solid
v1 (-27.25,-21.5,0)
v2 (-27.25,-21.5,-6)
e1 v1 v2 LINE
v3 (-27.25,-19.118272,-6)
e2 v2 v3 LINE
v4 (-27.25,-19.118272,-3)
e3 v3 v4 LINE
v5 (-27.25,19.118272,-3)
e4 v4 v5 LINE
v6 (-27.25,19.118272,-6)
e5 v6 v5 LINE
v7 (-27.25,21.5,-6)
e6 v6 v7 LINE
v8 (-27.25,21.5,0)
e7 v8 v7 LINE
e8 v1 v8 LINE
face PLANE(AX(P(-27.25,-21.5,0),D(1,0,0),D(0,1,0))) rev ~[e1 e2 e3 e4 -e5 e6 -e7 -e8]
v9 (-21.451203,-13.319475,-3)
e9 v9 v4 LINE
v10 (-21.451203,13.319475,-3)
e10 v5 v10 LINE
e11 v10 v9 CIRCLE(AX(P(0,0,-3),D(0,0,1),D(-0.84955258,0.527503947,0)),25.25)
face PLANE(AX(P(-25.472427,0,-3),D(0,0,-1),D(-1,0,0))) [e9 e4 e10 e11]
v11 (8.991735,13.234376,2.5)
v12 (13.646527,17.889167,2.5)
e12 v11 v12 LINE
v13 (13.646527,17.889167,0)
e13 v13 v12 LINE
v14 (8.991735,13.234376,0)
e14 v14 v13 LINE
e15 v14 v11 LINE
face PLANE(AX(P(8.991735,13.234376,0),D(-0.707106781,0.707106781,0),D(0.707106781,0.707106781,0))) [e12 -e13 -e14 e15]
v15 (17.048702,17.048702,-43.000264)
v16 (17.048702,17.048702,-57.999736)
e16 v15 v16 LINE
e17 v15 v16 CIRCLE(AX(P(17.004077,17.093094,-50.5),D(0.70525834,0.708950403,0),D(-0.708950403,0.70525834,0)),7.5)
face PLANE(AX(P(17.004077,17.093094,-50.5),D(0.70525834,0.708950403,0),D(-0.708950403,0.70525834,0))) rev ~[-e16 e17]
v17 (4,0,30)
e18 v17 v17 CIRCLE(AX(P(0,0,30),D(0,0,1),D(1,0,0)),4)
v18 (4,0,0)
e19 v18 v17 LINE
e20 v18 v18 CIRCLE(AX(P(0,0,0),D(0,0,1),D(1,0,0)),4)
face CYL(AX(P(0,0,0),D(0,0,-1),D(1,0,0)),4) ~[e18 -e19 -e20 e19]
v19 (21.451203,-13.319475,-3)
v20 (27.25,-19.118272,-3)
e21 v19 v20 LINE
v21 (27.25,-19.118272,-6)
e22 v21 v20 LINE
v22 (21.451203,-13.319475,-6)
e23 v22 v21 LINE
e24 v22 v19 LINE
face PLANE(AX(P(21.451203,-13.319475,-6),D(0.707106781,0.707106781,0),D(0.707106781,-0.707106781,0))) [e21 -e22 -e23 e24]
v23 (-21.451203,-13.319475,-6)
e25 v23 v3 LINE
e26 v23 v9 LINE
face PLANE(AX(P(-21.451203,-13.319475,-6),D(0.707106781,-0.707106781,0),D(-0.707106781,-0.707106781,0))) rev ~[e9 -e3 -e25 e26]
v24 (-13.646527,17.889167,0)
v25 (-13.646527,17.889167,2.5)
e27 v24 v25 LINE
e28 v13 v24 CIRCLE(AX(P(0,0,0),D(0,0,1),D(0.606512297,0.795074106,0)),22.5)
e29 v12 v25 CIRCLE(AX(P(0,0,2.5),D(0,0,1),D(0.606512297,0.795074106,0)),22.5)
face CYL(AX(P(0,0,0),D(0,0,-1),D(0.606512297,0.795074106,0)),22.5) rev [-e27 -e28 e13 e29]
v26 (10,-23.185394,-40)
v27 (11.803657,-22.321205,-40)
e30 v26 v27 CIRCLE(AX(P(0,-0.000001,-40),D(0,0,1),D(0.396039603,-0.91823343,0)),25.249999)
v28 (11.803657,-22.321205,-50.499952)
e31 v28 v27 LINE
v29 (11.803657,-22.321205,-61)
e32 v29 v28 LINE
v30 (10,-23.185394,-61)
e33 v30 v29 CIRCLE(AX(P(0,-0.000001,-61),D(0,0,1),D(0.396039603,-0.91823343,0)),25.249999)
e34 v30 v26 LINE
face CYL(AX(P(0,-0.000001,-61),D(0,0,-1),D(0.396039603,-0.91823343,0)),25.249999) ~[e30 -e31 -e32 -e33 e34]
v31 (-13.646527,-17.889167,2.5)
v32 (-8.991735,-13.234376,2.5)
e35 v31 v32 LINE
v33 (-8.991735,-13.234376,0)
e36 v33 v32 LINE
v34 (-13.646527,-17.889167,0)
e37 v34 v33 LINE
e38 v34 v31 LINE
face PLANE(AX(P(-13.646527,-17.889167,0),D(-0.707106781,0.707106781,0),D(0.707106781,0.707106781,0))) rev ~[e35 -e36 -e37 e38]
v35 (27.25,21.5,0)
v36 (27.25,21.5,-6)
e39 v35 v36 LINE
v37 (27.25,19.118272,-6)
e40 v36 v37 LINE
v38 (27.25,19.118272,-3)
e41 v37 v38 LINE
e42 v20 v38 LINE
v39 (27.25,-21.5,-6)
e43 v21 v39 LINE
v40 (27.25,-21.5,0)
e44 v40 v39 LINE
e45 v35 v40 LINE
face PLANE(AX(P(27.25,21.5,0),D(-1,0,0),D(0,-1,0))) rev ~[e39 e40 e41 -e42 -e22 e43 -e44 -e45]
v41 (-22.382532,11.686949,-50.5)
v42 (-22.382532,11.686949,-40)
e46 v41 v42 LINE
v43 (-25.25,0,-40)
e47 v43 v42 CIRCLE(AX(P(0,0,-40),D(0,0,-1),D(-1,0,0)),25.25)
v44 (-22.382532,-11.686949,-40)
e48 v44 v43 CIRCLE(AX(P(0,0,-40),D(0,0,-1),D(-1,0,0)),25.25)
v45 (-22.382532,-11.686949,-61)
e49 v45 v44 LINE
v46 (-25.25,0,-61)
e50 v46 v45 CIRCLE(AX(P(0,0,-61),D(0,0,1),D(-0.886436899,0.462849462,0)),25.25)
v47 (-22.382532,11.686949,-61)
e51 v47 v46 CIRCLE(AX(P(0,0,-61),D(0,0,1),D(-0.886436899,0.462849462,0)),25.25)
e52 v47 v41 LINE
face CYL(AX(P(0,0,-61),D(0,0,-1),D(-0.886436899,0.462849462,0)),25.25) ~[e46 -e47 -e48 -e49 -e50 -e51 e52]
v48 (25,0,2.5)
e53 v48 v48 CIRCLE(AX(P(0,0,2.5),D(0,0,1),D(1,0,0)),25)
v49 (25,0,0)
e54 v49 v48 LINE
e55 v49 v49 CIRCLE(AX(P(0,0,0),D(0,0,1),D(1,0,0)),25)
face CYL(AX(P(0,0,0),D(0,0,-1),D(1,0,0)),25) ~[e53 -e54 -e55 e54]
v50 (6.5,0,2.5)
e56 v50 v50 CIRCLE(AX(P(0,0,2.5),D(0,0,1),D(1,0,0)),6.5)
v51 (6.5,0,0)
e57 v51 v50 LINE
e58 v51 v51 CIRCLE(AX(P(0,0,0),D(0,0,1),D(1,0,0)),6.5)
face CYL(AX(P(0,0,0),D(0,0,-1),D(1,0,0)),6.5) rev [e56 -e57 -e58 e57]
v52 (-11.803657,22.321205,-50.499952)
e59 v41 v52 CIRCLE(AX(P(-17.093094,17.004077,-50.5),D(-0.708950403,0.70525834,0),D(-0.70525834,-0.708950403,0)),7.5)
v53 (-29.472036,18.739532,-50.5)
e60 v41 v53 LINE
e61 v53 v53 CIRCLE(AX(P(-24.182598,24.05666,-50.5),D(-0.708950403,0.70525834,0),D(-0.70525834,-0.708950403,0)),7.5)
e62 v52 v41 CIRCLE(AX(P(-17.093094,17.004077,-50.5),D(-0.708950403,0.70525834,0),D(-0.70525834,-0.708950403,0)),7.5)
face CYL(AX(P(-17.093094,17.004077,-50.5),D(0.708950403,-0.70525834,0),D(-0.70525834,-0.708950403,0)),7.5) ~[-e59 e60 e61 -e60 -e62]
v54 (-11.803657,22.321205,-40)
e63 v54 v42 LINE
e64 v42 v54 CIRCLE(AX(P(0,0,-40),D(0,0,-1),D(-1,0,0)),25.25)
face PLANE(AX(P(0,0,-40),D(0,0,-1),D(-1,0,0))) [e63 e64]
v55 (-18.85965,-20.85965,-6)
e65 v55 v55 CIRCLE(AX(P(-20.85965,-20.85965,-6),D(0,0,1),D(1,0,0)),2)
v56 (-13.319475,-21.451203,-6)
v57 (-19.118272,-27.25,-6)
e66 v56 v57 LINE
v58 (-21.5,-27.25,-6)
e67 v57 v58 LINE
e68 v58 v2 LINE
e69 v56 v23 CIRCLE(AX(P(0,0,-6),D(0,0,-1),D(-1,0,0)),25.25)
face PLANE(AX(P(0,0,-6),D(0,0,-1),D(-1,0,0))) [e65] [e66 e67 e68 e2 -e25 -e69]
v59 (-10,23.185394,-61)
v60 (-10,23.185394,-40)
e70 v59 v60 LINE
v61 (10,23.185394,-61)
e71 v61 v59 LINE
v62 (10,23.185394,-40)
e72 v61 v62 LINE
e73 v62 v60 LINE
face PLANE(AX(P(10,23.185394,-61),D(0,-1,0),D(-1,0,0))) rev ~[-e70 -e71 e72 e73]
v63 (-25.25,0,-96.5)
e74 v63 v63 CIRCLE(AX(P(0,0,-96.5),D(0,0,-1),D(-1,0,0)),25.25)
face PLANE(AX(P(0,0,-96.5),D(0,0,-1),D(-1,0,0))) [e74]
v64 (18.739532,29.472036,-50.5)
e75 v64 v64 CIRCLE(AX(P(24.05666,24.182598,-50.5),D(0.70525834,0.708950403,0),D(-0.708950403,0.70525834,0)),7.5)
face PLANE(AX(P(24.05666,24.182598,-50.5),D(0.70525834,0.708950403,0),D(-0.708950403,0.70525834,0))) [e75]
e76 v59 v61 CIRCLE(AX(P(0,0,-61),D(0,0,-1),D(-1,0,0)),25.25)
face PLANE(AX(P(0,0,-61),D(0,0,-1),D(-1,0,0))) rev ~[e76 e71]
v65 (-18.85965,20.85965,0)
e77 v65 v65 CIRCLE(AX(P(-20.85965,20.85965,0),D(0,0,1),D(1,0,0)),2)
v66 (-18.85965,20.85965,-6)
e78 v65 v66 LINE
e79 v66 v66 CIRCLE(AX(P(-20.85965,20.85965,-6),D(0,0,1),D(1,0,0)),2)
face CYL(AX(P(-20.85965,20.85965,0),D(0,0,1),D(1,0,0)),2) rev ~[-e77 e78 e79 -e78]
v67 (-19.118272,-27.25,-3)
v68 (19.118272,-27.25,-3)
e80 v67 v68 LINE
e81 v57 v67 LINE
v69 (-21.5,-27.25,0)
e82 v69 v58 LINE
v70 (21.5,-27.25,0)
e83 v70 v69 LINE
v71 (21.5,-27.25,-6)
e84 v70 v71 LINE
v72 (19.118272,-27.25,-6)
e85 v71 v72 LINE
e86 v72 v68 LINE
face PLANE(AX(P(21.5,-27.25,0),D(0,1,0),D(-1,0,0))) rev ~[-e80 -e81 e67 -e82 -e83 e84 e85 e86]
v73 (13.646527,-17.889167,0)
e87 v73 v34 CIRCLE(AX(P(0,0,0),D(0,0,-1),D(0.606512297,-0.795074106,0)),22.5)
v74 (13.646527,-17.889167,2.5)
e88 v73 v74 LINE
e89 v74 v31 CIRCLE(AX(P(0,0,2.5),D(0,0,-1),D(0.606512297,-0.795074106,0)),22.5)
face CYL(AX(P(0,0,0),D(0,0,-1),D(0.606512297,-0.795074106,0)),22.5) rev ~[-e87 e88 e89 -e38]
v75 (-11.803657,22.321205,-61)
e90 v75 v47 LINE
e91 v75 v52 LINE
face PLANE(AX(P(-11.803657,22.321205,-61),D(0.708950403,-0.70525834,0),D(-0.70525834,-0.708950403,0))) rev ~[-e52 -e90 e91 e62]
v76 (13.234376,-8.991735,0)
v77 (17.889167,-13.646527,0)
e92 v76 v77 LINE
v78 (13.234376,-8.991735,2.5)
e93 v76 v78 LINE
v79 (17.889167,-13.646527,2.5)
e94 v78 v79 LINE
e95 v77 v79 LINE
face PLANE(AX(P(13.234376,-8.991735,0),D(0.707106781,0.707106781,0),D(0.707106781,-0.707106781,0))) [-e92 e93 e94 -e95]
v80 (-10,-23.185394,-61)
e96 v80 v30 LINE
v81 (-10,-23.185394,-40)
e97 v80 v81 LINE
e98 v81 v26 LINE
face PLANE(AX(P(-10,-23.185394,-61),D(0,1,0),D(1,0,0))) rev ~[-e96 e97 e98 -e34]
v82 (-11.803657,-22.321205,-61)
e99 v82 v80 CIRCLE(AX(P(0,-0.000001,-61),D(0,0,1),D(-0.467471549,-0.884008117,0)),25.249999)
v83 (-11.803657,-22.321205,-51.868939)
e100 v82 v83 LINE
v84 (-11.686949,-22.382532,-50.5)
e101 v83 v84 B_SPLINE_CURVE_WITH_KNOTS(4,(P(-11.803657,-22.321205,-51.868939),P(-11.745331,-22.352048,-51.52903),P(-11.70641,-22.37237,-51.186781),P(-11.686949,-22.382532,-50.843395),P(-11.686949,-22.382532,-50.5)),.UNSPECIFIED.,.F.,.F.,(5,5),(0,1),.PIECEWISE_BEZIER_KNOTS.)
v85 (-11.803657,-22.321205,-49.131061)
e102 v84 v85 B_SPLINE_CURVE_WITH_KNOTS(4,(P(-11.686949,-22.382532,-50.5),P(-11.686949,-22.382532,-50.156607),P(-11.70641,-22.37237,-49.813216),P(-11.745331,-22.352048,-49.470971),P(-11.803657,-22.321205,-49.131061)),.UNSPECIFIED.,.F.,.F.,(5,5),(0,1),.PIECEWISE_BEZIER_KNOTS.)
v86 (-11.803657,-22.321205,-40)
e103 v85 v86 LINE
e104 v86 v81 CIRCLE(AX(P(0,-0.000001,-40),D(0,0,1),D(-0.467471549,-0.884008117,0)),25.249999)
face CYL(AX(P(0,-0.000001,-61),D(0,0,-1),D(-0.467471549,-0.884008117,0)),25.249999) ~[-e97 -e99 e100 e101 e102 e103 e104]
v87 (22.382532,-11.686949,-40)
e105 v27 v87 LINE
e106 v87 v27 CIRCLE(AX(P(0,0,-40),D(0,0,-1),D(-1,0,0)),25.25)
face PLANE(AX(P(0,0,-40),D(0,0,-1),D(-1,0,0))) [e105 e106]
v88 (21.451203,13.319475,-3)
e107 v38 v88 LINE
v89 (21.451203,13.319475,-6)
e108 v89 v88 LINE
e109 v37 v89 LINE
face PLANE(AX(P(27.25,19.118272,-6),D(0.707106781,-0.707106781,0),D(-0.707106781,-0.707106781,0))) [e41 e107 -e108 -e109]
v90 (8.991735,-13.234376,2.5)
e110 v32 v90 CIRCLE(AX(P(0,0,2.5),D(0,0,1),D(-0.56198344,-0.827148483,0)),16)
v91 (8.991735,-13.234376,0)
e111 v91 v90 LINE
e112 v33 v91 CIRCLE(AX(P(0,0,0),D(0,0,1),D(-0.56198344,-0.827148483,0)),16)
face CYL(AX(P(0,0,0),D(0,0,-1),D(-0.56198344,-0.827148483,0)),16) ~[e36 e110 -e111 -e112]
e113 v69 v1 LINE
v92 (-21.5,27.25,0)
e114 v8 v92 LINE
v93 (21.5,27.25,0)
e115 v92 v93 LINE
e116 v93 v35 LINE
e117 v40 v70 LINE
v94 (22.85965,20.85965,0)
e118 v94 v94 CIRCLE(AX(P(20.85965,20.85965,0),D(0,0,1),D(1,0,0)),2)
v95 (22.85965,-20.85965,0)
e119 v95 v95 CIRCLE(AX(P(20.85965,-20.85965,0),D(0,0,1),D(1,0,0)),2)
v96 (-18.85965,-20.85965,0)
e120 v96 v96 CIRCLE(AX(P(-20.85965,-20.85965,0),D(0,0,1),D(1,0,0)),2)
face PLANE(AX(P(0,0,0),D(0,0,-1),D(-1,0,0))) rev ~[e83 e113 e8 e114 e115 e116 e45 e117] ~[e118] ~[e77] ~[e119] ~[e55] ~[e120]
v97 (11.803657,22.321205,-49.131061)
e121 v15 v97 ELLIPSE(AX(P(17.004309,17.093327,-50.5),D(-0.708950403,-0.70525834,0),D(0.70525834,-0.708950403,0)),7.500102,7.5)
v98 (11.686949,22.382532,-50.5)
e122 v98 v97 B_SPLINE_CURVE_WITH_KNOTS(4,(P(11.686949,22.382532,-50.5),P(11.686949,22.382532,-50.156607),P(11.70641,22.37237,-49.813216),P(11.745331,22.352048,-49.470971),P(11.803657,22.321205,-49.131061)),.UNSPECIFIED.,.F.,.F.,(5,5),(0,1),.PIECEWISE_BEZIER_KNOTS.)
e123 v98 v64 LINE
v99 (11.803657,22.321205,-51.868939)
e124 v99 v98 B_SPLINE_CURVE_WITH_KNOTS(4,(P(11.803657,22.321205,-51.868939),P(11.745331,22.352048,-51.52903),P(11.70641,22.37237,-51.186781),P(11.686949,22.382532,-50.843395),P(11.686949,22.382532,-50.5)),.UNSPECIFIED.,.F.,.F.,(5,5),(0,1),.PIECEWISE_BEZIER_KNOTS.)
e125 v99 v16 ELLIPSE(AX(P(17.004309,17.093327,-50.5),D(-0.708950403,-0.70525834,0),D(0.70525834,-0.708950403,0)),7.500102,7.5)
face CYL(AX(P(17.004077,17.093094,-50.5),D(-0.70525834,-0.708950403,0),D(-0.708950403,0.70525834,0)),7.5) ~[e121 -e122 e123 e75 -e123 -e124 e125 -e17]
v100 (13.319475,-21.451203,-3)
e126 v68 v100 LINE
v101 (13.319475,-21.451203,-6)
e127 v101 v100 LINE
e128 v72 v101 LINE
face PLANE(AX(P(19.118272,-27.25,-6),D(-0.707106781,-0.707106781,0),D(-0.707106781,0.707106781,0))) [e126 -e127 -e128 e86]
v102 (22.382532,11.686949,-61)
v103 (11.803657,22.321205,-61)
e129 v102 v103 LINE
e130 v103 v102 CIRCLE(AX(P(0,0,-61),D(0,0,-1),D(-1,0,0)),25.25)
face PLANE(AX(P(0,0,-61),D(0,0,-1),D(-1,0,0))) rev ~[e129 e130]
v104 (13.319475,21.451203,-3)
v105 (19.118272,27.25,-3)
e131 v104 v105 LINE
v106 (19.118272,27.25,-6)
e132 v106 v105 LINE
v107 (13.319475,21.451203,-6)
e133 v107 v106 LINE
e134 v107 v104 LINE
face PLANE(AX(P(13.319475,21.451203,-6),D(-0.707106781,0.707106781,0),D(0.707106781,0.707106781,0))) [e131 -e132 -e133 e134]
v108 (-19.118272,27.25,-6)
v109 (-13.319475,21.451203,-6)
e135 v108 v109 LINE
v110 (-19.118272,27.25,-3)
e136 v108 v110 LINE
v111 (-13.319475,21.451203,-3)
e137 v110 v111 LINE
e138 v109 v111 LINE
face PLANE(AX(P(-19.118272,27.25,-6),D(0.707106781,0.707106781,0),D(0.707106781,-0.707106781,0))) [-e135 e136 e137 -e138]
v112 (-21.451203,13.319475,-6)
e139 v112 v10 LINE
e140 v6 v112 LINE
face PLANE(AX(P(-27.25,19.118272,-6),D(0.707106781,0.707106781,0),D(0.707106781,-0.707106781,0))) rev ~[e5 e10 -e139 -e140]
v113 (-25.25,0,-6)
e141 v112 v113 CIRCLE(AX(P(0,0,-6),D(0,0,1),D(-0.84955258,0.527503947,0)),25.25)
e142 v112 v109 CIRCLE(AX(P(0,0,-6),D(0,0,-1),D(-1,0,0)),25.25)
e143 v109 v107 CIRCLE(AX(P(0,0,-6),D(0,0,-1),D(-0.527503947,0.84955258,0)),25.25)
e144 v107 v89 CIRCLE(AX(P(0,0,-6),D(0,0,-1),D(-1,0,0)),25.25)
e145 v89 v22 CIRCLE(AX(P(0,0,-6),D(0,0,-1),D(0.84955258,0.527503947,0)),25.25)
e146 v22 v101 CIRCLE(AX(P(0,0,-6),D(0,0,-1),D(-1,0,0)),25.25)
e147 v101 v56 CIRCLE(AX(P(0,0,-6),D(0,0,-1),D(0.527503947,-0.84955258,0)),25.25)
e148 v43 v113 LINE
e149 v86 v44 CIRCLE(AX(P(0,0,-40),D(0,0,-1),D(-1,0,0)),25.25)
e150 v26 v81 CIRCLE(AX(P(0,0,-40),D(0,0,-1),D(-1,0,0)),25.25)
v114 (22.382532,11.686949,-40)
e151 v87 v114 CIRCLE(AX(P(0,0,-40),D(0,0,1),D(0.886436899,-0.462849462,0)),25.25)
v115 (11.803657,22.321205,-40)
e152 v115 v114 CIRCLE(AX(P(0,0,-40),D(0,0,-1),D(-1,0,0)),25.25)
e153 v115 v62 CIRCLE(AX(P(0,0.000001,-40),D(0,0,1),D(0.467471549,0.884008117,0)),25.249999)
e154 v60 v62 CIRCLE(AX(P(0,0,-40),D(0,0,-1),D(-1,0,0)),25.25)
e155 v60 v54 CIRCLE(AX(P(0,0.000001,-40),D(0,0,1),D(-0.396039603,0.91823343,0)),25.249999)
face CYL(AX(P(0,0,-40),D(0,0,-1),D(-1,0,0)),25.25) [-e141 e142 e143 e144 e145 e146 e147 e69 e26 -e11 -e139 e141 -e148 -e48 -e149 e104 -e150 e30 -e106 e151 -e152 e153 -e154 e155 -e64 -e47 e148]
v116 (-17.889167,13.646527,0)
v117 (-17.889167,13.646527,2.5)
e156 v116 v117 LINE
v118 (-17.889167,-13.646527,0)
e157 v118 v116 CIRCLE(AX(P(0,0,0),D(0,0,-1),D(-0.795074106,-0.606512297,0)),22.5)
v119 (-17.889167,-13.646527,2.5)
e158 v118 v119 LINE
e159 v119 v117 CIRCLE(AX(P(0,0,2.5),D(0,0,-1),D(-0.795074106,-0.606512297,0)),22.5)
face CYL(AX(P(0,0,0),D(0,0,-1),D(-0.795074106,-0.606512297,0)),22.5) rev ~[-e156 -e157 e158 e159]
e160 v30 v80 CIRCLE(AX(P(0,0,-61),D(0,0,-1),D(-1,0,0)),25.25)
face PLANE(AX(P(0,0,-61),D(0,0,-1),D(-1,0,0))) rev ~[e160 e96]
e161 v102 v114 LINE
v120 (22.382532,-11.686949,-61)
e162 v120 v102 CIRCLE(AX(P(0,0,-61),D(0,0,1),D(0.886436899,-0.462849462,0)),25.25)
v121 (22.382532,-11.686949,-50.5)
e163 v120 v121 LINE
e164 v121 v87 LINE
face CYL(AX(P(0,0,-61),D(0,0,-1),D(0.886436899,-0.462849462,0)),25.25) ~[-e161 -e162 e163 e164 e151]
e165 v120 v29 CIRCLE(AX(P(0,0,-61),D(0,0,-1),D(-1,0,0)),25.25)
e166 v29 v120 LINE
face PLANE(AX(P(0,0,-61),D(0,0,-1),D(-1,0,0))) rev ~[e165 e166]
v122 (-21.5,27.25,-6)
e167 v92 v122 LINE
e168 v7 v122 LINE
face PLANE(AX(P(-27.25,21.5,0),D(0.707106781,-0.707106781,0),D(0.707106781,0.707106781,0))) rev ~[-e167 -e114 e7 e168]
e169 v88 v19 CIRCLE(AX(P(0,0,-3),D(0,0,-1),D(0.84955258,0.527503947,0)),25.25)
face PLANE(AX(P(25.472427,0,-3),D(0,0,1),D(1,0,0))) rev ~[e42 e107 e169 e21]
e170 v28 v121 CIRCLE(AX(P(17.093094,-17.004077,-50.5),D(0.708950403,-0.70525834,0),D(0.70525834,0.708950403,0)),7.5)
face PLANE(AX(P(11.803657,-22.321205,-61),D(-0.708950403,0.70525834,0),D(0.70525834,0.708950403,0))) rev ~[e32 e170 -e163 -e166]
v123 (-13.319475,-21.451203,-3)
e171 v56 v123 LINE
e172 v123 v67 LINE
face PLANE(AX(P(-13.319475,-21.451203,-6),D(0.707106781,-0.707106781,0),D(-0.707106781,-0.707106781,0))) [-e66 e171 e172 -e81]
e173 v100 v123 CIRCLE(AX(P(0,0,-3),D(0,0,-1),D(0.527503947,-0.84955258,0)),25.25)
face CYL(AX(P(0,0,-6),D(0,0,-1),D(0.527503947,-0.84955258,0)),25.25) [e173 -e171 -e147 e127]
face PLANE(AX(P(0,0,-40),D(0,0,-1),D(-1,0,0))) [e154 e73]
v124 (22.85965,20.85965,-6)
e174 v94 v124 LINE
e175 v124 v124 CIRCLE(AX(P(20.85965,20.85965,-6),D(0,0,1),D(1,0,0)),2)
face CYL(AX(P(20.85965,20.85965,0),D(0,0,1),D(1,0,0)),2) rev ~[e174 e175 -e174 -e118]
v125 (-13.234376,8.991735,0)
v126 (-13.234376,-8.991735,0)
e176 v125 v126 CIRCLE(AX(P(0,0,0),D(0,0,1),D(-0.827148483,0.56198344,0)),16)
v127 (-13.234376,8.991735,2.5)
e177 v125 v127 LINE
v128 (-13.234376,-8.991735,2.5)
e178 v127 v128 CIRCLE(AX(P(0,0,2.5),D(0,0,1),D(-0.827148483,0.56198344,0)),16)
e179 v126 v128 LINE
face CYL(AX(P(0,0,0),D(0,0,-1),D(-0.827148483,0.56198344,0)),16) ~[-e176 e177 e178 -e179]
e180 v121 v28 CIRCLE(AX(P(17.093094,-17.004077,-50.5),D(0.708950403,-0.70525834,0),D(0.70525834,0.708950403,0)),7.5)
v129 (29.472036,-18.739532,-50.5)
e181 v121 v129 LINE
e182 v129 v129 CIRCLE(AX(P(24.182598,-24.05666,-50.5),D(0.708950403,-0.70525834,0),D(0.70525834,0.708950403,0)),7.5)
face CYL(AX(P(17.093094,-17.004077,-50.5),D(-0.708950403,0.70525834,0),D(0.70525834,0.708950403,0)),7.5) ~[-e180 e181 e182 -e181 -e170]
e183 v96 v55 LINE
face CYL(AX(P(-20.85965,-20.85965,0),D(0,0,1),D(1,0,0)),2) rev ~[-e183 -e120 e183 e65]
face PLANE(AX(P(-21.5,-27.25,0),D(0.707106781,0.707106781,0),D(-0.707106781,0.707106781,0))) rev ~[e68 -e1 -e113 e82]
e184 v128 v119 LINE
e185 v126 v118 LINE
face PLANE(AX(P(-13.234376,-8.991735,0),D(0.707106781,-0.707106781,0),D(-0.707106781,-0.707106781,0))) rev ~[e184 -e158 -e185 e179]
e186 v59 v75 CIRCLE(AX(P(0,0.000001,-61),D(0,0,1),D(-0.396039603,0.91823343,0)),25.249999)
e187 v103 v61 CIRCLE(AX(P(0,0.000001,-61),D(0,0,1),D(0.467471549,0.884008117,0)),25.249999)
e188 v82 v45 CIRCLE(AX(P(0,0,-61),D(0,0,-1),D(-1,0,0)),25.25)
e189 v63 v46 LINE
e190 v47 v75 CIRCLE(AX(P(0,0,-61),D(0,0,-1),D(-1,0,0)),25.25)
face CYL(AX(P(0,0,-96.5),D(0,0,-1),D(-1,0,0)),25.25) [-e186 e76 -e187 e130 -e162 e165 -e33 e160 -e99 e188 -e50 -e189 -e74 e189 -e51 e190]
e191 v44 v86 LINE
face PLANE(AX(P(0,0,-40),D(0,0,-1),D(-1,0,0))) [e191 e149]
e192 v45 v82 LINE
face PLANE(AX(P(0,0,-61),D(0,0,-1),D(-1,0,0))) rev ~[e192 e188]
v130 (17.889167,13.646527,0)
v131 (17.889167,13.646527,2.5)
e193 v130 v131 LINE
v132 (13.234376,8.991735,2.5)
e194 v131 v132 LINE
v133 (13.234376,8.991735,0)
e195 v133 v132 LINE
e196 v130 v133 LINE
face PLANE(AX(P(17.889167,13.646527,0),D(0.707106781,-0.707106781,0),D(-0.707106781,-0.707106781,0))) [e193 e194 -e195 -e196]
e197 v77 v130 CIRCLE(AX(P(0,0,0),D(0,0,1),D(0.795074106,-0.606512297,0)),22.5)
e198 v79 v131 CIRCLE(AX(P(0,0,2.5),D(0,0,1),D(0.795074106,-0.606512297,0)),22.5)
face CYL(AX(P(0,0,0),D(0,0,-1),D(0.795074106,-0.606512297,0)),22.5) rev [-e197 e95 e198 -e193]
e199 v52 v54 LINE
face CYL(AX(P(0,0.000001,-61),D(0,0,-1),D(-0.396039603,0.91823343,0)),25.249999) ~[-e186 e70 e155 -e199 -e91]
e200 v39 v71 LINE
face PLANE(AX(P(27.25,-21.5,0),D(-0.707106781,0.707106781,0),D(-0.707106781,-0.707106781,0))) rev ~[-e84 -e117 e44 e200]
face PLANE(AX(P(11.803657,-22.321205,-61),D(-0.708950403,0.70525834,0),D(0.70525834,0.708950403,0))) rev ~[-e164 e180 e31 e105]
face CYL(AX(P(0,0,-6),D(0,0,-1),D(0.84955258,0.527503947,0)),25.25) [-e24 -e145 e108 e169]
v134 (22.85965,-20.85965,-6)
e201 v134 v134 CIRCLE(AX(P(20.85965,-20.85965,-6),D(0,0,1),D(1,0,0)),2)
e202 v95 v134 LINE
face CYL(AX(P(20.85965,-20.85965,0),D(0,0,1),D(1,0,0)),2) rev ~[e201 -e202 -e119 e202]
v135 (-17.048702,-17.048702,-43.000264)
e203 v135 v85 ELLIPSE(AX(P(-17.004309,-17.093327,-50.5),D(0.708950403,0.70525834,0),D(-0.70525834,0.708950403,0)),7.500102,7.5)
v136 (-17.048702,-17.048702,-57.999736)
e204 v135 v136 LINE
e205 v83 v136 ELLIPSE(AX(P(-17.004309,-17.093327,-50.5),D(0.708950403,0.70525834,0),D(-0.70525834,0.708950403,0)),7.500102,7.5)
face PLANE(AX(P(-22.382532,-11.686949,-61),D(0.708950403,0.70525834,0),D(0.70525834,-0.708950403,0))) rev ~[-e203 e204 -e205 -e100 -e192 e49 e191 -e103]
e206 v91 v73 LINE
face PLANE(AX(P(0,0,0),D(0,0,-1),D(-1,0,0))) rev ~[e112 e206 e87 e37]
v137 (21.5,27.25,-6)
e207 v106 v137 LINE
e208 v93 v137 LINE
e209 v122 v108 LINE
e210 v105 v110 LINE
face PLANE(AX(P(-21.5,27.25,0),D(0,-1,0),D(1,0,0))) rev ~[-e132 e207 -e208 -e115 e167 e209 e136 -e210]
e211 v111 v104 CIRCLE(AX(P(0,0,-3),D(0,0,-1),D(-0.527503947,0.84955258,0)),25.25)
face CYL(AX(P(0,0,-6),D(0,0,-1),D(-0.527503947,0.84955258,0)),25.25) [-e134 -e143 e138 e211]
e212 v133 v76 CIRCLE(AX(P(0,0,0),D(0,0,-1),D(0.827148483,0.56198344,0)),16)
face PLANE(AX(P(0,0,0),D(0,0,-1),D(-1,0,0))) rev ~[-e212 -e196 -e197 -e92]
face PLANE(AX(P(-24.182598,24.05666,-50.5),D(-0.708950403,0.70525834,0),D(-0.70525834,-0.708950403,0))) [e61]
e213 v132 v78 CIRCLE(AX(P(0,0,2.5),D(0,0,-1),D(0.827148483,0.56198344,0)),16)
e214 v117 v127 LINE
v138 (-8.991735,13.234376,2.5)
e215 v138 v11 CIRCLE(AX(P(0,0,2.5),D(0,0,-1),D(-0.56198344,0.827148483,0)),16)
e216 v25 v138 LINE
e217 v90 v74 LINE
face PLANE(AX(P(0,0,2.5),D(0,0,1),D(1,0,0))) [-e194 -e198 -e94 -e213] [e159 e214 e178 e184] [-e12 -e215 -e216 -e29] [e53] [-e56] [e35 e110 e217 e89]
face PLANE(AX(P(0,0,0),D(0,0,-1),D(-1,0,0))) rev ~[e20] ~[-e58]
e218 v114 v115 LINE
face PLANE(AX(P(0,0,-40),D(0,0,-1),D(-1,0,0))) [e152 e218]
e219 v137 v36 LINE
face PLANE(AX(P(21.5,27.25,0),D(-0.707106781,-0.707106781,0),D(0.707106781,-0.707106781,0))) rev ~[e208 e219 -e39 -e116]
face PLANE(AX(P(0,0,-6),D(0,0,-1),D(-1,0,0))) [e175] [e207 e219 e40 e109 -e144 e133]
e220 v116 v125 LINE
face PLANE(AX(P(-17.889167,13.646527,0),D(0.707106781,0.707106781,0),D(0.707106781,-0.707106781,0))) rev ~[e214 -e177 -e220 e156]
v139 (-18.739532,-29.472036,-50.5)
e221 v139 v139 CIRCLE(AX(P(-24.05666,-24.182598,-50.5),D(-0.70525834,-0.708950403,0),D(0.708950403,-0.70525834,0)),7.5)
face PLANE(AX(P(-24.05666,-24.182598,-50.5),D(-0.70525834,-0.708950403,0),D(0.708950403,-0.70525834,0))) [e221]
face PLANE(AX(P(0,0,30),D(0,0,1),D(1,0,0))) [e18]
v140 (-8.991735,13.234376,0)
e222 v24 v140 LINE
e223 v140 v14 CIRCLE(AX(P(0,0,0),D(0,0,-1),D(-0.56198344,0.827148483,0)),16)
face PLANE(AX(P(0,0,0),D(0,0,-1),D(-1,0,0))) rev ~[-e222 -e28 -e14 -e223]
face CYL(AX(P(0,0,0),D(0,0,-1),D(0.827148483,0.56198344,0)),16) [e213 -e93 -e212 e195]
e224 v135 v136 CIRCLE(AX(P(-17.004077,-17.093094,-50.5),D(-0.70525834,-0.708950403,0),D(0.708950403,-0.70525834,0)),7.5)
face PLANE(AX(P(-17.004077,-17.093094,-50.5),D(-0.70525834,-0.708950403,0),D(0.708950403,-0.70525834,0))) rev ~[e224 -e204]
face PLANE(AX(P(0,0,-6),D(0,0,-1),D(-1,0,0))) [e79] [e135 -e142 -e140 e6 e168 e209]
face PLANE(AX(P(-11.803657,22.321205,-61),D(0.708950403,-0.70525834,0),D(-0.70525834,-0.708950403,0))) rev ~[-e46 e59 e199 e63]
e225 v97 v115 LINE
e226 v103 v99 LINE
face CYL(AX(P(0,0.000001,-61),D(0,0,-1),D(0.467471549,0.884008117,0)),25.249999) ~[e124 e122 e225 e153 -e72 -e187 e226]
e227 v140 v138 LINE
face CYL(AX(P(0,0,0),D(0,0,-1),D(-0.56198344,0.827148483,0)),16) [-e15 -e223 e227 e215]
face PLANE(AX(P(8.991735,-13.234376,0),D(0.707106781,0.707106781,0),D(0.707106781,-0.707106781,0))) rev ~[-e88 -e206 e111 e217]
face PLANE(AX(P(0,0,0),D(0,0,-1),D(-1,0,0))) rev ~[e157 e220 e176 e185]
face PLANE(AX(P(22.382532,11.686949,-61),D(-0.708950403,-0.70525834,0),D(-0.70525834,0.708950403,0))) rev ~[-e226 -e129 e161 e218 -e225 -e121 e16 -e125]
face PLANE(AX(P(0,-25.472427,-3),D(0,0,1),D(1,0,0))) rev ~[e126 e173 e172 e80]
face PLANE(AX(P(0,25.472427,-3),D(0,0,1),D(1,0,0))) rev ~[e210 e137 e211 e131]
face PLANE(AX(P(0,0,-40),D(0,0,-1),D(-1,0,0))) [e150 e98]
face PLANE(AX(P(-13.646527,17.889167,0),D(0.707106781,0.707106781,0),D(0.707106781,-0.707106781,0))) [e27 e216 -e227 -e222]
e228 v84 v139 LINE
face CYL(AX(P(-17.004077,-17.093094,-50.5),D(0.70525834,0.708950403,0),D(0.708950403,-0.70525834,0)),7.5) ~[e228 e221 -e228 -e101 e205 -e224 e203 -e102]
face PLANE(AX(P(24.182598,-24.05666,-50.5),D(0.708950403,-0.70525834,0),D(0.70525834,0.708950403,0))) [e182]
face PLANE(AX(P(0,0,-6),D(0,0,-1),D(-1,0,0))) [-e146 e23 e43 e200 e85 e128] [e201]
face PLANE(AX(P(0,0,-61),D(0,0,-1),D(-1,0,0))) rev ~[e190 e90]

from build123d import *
from build123d.topology import SkipClean

# Parameters (mm, degrees)
SKETCH1_R           = 2
BOSS_EXTRUDE1_DEPTH = 6
SKETCH2_R           = 25
SKETCH2_R_2         = 6.5
BOSS_EXTRUDE2_DEPTH = 2.5
SKETCH1_3_R         = 4
BOSS_EXTRUDE3_DEPTH = 30
CUT_EXTRUDE1_DEPTH  = 3
BOSS_EXTRUDE4_START = 34
SKETCH5_R           = 25.25
BOSS_EXTRUDE4_DEPTH = 34
BOSS_EXTRUDE5_START = 21
BOSS_EXTRUDE5_DEPTH = 21
BOSS_EXTRUDE6_START = 35.5
SKETCH7_R           = 25.25
BOSS_EXTRUDE6_DEPTH = 35.5
SKETCH8_R           = 7.5
BOSS_EXTRUDE7_DEPTH = 10
CIRPATTERN1_COUNT   = 4


with BuildPart() as part:
    # Sketch1 → Boss-Extrude1 (new body)
    with BuildSketch(Plane.XY):
        Polygon((-21.5, 27.25), (21.5, 27.25), (27.25, 21.5), (27.25, -21.5), (21.5, -27.25), (-21.5, -27.25), (-27.25, -21.5), (-27.25, 21.5), align=None)
        with Locations((20.859650045, 20.859650045)):
            Circle(SKETCH1_R, mode=Mode.SUBTRACT)
        with Locations((-20.859650045, 20.859650045)):
            Circle(SKETCH1_R, mode=Mode.SUBTRACT)
        with Locations((-20.859650045, -20.859650045)):
            Circle(SKETCH1_R, mode=Mode.SUBTRACT)
        with Locations((20.859650045, -20.859650045)):
            Circle(SKETCH1_R, mode=Mode.SUBTRACT)
    extrude(amount=-BOSS_EXTRUDE1_DEPTH)

    # Sketch2 → Boss-Extrude2 (add)
    with BuildSketch(Plane.XY):
        Circle(SKETCH2_R)
        Circle(SKETCH2_R_2, mode=Mode.SUBTRACT)
        with BuildLine():
            Line((-17.889167375, 13.646526688), (-13.234375729, 8.991735042))
            ThreePointArc((-13.234375729, 8.991735042), (-16, 0), (-13.234375729, -8.991735042))
            Line((-13.234375729, -8.991735042), (-17.889167375, -13.646526688))
            ThreePointArc((-17.889167375, -13.646526688), (-22.5, 0), (-17.889167375, 13.646526688))
        make_face(mode=Mode.SUBTRACT)
        with BuildLine():
            Line((-13.646526688, 17.889167375), (-8.991735042, 13.234375729))
            ThreePointArc((-8.991735042, 13.234375729), (0, 16), (8.991735042, 13.234375729))
            Line((8.991735042, 13.234375729), (13.646526688, 17.889167375))
            ThreePointArc((13.646526688, 17.889167375), (0, 22.5), (-13.646526688, 17.889167375))
        make_face(mode=Mode.SUBTRACT)
        with BuildLine():
            Line((17.889167375, 13.646526688), (13.234375729, 8.991735042))
            ThreePointArc((13.234375729, 8.991735042), (16, 0), (13.234375729, -8.991735042))
            Line((13.234375729, -8.991735042), (17.889167375, -13.646526688))
            ThreePointArc((17.889167375, -13.646526688), (22.5, 0), (17.889167375, 13.646526688))
        make_face(mode=Mode.SUBTRACT)
        with BuildLine():
            Line((8.991735042, -13.234375729), (13.646526688, -17.889167375))
            ThreePointArc((13.646526688, -17.889167375), (0, -22.5), (-13.646526688, -17.889167375))
            Line((-13.646526688, -17.889167375), (-8.991735042, -13.234375729))
            ThreePointArc((-8.991735042, -13.234375729), (0, -16), (8.991735042, -13.234375729))
        make_face(mode=Mode.SUBTRACT)
    extrude(amount=BOSS_EXTRUDE2_DEPTH)

    # Sketch1<3> → Boss-Extrude3 (add)
    with BuildSketch(Plane.XY):
        Circle(SKETCH1_3_R)
    extrude(amount=BOSS_EXTRUDE3_DEPTH)

    # Sketch3 → Cut-Extrude1 (cut)
    with BuildSketch(Plane(origin=(0, 0, -6), x_dir=(-1, 0, 0), z_dir=(0, 0, -1))):
        with BuildLine():
            Line((19.118272016, 27.25), (13.319474659, 21.451202643))
            ThreePointArc((13.319474659, 21.451202643), (0, 25.25), (-13.319474659, 21.451202643))
            Line((-13.319474659, 21.451202643), (-19.118272016, 27.25))
            Line((-19.118272016, 27.25), (19.118272016, 27.25))
        make_face()
        with BuildLine():
            Line((27.25, 19.118272016), (21.451202643, 13.319474659))
            ThreePointArc((21.451202643, 13.319474659), (25.25, 0), (21.451202643, -13.319474659))
            Line((21.451202643, -13.319474659), (27.25, -19.118272016))
            Line((27.25, -19.118272016), (27.25, 19.118272016))
        make_face()
        with BuildLine():
            Line((-27.25, 19.118272016), (-21.451202643, 13.319474659))
            ThreePointArc((-21.451202643, 13.319474659), (-25.25, 0), (-21.451202643, -13.319474659))
            Line((-21.451202643, -13.319474659), (-27.25, -19.118272016))
            Line((-27.25, -19.118272016), (-27.25, 19.118272016))
        make_face()
        with BuildLine():
            Line((-19.118272016, -27.25), (-13.319474659, -21.451202643))
            ThreePointArc((-13.319474659, -21.451202643), (0, -25.25), (13.319474659, -21.451202643))
            Line((13.319474659, -21.451202643), (19.118272016, -27.25))
            Line((19.118272016, -27.25), (-19.118272016, -27.25))
        make_face()
    extrude(amount=-CUT_EXTRUDE1_DEPTH, mode=Mode.SUBTRACT)

    # Sketch5 → Boss-Extrude4 (add)
    with BuildSketch(Plane(origin=(0, 0, -6), x_dir=(-1, 0, 0), z_dir=(0, 0, -1)).offset(BOSS_EXTRUDE4_START)):
        Circle(SKETCH5_R)
    extrude(amount=-BOSS_EXTRUDE4_DEPTH)

    # Sketch6 → Boss-Extrude5 (add)
    with SkipClean():  # the faces are left unmerged after this step: merging them gives an invalid solid
        with BuildSketch(Plane(origin=(0, 0, -40), x_dir=(-1, 0, 0), z_dir=(0, 0, -1)).offset(BOSS_EXTRUDE5_START)):
            with BuildLine():
                Line((-10, 23.185394109), (10, 23.185394109))
                ThreePointArc((10, 23.185394109), (10.910387984, 22.77116453), (11.803656596, 22.321204962))
                Line((11.803656596, 22.321204962), (22.382531694, 11.686948915))
                ThreePointArc((22.382531694, 11.686948915), (25.25, 0), (22.382531694, -11.686948915))
                Line((22.382531694, -11.686948915), (11.803656596, -22.321204962))
                ThreePointArc((11.803656596, -22.321204962), (10.910387984, -22.77116453), (10, -23.185394109))
                Line((10, -23.185394109), (-10, -23.185394109))
                ThreePointArc((-10, -23.185394109), (-10.910387984, -22.77116453), (-11.803656596, -22.321204962))
                Line((-11.803656596, -22.321204962), (-22.382531694, -11.686948915))
                ThreePointArc((-22.382531694, -11.686948915), (-25.25, 0), (-22.382531694, 11.686948915))
                Line((-22.382531694, 11.686948915), (-11.803656596, 22.321204962))
                ThreePointArc((-11.803656596, 22.321204962), (-10.910387984, 22.77116453), (-10, 23.185394109))
            make_face()
        extrude(amount=-BOSS_EXTRUDE5_DEPTH)

    # Sketch7 → Boss-Extrude6 (add)
    with SkipClean():  # the faces are left unmerged after this step: merging them gives an invalid solid
        with BuildSketch(Plane(origin=(0, 0, -61), x_dir=(-1, 0, 0), z_dir=(0, 0, -1)).offset(BOSS_EXTRUDE6_START)):
            Circle(SKETCH7_R)
        extrude(amount=-BOSS_EXTRUDE6_DEPTH)

    # Sketch8 → Boss-Extrude7 (add)
    with SkipClean():  # the faces are left unmerged after this step: merging them gives an invalid solid
        with BuildSketch(Plane(origin=(-17.093094145, 17.004076939, 0), x_dir=(0.7052583398611622, 0.7089504031004409, 0), z_dir=(-0.7089504031004409, 0.7052583398611622, 0))):
            with Locations((0, 50.5)):
                Circle(SKETCH8_R)
        boss_extrude7 = extrude(amount=BOSS_EXTRUDE7_DEPTH)

    # CirPattern1: Boss-Extrude7 ×4 about axis
    with SkipClean():  # the faces are left unmerged after this step: merging them gives an invalid solid
        cirpattern1_axis = Axis((0, 0, -3), (0, 0, -1))
        for i in range(1, CIRPATTERN1_COUNT):
            add(boss_extrude7.rotate(cirpattern1_axis, i * 360 / CIRPATTERN1_COUNT))


solid = part.part
